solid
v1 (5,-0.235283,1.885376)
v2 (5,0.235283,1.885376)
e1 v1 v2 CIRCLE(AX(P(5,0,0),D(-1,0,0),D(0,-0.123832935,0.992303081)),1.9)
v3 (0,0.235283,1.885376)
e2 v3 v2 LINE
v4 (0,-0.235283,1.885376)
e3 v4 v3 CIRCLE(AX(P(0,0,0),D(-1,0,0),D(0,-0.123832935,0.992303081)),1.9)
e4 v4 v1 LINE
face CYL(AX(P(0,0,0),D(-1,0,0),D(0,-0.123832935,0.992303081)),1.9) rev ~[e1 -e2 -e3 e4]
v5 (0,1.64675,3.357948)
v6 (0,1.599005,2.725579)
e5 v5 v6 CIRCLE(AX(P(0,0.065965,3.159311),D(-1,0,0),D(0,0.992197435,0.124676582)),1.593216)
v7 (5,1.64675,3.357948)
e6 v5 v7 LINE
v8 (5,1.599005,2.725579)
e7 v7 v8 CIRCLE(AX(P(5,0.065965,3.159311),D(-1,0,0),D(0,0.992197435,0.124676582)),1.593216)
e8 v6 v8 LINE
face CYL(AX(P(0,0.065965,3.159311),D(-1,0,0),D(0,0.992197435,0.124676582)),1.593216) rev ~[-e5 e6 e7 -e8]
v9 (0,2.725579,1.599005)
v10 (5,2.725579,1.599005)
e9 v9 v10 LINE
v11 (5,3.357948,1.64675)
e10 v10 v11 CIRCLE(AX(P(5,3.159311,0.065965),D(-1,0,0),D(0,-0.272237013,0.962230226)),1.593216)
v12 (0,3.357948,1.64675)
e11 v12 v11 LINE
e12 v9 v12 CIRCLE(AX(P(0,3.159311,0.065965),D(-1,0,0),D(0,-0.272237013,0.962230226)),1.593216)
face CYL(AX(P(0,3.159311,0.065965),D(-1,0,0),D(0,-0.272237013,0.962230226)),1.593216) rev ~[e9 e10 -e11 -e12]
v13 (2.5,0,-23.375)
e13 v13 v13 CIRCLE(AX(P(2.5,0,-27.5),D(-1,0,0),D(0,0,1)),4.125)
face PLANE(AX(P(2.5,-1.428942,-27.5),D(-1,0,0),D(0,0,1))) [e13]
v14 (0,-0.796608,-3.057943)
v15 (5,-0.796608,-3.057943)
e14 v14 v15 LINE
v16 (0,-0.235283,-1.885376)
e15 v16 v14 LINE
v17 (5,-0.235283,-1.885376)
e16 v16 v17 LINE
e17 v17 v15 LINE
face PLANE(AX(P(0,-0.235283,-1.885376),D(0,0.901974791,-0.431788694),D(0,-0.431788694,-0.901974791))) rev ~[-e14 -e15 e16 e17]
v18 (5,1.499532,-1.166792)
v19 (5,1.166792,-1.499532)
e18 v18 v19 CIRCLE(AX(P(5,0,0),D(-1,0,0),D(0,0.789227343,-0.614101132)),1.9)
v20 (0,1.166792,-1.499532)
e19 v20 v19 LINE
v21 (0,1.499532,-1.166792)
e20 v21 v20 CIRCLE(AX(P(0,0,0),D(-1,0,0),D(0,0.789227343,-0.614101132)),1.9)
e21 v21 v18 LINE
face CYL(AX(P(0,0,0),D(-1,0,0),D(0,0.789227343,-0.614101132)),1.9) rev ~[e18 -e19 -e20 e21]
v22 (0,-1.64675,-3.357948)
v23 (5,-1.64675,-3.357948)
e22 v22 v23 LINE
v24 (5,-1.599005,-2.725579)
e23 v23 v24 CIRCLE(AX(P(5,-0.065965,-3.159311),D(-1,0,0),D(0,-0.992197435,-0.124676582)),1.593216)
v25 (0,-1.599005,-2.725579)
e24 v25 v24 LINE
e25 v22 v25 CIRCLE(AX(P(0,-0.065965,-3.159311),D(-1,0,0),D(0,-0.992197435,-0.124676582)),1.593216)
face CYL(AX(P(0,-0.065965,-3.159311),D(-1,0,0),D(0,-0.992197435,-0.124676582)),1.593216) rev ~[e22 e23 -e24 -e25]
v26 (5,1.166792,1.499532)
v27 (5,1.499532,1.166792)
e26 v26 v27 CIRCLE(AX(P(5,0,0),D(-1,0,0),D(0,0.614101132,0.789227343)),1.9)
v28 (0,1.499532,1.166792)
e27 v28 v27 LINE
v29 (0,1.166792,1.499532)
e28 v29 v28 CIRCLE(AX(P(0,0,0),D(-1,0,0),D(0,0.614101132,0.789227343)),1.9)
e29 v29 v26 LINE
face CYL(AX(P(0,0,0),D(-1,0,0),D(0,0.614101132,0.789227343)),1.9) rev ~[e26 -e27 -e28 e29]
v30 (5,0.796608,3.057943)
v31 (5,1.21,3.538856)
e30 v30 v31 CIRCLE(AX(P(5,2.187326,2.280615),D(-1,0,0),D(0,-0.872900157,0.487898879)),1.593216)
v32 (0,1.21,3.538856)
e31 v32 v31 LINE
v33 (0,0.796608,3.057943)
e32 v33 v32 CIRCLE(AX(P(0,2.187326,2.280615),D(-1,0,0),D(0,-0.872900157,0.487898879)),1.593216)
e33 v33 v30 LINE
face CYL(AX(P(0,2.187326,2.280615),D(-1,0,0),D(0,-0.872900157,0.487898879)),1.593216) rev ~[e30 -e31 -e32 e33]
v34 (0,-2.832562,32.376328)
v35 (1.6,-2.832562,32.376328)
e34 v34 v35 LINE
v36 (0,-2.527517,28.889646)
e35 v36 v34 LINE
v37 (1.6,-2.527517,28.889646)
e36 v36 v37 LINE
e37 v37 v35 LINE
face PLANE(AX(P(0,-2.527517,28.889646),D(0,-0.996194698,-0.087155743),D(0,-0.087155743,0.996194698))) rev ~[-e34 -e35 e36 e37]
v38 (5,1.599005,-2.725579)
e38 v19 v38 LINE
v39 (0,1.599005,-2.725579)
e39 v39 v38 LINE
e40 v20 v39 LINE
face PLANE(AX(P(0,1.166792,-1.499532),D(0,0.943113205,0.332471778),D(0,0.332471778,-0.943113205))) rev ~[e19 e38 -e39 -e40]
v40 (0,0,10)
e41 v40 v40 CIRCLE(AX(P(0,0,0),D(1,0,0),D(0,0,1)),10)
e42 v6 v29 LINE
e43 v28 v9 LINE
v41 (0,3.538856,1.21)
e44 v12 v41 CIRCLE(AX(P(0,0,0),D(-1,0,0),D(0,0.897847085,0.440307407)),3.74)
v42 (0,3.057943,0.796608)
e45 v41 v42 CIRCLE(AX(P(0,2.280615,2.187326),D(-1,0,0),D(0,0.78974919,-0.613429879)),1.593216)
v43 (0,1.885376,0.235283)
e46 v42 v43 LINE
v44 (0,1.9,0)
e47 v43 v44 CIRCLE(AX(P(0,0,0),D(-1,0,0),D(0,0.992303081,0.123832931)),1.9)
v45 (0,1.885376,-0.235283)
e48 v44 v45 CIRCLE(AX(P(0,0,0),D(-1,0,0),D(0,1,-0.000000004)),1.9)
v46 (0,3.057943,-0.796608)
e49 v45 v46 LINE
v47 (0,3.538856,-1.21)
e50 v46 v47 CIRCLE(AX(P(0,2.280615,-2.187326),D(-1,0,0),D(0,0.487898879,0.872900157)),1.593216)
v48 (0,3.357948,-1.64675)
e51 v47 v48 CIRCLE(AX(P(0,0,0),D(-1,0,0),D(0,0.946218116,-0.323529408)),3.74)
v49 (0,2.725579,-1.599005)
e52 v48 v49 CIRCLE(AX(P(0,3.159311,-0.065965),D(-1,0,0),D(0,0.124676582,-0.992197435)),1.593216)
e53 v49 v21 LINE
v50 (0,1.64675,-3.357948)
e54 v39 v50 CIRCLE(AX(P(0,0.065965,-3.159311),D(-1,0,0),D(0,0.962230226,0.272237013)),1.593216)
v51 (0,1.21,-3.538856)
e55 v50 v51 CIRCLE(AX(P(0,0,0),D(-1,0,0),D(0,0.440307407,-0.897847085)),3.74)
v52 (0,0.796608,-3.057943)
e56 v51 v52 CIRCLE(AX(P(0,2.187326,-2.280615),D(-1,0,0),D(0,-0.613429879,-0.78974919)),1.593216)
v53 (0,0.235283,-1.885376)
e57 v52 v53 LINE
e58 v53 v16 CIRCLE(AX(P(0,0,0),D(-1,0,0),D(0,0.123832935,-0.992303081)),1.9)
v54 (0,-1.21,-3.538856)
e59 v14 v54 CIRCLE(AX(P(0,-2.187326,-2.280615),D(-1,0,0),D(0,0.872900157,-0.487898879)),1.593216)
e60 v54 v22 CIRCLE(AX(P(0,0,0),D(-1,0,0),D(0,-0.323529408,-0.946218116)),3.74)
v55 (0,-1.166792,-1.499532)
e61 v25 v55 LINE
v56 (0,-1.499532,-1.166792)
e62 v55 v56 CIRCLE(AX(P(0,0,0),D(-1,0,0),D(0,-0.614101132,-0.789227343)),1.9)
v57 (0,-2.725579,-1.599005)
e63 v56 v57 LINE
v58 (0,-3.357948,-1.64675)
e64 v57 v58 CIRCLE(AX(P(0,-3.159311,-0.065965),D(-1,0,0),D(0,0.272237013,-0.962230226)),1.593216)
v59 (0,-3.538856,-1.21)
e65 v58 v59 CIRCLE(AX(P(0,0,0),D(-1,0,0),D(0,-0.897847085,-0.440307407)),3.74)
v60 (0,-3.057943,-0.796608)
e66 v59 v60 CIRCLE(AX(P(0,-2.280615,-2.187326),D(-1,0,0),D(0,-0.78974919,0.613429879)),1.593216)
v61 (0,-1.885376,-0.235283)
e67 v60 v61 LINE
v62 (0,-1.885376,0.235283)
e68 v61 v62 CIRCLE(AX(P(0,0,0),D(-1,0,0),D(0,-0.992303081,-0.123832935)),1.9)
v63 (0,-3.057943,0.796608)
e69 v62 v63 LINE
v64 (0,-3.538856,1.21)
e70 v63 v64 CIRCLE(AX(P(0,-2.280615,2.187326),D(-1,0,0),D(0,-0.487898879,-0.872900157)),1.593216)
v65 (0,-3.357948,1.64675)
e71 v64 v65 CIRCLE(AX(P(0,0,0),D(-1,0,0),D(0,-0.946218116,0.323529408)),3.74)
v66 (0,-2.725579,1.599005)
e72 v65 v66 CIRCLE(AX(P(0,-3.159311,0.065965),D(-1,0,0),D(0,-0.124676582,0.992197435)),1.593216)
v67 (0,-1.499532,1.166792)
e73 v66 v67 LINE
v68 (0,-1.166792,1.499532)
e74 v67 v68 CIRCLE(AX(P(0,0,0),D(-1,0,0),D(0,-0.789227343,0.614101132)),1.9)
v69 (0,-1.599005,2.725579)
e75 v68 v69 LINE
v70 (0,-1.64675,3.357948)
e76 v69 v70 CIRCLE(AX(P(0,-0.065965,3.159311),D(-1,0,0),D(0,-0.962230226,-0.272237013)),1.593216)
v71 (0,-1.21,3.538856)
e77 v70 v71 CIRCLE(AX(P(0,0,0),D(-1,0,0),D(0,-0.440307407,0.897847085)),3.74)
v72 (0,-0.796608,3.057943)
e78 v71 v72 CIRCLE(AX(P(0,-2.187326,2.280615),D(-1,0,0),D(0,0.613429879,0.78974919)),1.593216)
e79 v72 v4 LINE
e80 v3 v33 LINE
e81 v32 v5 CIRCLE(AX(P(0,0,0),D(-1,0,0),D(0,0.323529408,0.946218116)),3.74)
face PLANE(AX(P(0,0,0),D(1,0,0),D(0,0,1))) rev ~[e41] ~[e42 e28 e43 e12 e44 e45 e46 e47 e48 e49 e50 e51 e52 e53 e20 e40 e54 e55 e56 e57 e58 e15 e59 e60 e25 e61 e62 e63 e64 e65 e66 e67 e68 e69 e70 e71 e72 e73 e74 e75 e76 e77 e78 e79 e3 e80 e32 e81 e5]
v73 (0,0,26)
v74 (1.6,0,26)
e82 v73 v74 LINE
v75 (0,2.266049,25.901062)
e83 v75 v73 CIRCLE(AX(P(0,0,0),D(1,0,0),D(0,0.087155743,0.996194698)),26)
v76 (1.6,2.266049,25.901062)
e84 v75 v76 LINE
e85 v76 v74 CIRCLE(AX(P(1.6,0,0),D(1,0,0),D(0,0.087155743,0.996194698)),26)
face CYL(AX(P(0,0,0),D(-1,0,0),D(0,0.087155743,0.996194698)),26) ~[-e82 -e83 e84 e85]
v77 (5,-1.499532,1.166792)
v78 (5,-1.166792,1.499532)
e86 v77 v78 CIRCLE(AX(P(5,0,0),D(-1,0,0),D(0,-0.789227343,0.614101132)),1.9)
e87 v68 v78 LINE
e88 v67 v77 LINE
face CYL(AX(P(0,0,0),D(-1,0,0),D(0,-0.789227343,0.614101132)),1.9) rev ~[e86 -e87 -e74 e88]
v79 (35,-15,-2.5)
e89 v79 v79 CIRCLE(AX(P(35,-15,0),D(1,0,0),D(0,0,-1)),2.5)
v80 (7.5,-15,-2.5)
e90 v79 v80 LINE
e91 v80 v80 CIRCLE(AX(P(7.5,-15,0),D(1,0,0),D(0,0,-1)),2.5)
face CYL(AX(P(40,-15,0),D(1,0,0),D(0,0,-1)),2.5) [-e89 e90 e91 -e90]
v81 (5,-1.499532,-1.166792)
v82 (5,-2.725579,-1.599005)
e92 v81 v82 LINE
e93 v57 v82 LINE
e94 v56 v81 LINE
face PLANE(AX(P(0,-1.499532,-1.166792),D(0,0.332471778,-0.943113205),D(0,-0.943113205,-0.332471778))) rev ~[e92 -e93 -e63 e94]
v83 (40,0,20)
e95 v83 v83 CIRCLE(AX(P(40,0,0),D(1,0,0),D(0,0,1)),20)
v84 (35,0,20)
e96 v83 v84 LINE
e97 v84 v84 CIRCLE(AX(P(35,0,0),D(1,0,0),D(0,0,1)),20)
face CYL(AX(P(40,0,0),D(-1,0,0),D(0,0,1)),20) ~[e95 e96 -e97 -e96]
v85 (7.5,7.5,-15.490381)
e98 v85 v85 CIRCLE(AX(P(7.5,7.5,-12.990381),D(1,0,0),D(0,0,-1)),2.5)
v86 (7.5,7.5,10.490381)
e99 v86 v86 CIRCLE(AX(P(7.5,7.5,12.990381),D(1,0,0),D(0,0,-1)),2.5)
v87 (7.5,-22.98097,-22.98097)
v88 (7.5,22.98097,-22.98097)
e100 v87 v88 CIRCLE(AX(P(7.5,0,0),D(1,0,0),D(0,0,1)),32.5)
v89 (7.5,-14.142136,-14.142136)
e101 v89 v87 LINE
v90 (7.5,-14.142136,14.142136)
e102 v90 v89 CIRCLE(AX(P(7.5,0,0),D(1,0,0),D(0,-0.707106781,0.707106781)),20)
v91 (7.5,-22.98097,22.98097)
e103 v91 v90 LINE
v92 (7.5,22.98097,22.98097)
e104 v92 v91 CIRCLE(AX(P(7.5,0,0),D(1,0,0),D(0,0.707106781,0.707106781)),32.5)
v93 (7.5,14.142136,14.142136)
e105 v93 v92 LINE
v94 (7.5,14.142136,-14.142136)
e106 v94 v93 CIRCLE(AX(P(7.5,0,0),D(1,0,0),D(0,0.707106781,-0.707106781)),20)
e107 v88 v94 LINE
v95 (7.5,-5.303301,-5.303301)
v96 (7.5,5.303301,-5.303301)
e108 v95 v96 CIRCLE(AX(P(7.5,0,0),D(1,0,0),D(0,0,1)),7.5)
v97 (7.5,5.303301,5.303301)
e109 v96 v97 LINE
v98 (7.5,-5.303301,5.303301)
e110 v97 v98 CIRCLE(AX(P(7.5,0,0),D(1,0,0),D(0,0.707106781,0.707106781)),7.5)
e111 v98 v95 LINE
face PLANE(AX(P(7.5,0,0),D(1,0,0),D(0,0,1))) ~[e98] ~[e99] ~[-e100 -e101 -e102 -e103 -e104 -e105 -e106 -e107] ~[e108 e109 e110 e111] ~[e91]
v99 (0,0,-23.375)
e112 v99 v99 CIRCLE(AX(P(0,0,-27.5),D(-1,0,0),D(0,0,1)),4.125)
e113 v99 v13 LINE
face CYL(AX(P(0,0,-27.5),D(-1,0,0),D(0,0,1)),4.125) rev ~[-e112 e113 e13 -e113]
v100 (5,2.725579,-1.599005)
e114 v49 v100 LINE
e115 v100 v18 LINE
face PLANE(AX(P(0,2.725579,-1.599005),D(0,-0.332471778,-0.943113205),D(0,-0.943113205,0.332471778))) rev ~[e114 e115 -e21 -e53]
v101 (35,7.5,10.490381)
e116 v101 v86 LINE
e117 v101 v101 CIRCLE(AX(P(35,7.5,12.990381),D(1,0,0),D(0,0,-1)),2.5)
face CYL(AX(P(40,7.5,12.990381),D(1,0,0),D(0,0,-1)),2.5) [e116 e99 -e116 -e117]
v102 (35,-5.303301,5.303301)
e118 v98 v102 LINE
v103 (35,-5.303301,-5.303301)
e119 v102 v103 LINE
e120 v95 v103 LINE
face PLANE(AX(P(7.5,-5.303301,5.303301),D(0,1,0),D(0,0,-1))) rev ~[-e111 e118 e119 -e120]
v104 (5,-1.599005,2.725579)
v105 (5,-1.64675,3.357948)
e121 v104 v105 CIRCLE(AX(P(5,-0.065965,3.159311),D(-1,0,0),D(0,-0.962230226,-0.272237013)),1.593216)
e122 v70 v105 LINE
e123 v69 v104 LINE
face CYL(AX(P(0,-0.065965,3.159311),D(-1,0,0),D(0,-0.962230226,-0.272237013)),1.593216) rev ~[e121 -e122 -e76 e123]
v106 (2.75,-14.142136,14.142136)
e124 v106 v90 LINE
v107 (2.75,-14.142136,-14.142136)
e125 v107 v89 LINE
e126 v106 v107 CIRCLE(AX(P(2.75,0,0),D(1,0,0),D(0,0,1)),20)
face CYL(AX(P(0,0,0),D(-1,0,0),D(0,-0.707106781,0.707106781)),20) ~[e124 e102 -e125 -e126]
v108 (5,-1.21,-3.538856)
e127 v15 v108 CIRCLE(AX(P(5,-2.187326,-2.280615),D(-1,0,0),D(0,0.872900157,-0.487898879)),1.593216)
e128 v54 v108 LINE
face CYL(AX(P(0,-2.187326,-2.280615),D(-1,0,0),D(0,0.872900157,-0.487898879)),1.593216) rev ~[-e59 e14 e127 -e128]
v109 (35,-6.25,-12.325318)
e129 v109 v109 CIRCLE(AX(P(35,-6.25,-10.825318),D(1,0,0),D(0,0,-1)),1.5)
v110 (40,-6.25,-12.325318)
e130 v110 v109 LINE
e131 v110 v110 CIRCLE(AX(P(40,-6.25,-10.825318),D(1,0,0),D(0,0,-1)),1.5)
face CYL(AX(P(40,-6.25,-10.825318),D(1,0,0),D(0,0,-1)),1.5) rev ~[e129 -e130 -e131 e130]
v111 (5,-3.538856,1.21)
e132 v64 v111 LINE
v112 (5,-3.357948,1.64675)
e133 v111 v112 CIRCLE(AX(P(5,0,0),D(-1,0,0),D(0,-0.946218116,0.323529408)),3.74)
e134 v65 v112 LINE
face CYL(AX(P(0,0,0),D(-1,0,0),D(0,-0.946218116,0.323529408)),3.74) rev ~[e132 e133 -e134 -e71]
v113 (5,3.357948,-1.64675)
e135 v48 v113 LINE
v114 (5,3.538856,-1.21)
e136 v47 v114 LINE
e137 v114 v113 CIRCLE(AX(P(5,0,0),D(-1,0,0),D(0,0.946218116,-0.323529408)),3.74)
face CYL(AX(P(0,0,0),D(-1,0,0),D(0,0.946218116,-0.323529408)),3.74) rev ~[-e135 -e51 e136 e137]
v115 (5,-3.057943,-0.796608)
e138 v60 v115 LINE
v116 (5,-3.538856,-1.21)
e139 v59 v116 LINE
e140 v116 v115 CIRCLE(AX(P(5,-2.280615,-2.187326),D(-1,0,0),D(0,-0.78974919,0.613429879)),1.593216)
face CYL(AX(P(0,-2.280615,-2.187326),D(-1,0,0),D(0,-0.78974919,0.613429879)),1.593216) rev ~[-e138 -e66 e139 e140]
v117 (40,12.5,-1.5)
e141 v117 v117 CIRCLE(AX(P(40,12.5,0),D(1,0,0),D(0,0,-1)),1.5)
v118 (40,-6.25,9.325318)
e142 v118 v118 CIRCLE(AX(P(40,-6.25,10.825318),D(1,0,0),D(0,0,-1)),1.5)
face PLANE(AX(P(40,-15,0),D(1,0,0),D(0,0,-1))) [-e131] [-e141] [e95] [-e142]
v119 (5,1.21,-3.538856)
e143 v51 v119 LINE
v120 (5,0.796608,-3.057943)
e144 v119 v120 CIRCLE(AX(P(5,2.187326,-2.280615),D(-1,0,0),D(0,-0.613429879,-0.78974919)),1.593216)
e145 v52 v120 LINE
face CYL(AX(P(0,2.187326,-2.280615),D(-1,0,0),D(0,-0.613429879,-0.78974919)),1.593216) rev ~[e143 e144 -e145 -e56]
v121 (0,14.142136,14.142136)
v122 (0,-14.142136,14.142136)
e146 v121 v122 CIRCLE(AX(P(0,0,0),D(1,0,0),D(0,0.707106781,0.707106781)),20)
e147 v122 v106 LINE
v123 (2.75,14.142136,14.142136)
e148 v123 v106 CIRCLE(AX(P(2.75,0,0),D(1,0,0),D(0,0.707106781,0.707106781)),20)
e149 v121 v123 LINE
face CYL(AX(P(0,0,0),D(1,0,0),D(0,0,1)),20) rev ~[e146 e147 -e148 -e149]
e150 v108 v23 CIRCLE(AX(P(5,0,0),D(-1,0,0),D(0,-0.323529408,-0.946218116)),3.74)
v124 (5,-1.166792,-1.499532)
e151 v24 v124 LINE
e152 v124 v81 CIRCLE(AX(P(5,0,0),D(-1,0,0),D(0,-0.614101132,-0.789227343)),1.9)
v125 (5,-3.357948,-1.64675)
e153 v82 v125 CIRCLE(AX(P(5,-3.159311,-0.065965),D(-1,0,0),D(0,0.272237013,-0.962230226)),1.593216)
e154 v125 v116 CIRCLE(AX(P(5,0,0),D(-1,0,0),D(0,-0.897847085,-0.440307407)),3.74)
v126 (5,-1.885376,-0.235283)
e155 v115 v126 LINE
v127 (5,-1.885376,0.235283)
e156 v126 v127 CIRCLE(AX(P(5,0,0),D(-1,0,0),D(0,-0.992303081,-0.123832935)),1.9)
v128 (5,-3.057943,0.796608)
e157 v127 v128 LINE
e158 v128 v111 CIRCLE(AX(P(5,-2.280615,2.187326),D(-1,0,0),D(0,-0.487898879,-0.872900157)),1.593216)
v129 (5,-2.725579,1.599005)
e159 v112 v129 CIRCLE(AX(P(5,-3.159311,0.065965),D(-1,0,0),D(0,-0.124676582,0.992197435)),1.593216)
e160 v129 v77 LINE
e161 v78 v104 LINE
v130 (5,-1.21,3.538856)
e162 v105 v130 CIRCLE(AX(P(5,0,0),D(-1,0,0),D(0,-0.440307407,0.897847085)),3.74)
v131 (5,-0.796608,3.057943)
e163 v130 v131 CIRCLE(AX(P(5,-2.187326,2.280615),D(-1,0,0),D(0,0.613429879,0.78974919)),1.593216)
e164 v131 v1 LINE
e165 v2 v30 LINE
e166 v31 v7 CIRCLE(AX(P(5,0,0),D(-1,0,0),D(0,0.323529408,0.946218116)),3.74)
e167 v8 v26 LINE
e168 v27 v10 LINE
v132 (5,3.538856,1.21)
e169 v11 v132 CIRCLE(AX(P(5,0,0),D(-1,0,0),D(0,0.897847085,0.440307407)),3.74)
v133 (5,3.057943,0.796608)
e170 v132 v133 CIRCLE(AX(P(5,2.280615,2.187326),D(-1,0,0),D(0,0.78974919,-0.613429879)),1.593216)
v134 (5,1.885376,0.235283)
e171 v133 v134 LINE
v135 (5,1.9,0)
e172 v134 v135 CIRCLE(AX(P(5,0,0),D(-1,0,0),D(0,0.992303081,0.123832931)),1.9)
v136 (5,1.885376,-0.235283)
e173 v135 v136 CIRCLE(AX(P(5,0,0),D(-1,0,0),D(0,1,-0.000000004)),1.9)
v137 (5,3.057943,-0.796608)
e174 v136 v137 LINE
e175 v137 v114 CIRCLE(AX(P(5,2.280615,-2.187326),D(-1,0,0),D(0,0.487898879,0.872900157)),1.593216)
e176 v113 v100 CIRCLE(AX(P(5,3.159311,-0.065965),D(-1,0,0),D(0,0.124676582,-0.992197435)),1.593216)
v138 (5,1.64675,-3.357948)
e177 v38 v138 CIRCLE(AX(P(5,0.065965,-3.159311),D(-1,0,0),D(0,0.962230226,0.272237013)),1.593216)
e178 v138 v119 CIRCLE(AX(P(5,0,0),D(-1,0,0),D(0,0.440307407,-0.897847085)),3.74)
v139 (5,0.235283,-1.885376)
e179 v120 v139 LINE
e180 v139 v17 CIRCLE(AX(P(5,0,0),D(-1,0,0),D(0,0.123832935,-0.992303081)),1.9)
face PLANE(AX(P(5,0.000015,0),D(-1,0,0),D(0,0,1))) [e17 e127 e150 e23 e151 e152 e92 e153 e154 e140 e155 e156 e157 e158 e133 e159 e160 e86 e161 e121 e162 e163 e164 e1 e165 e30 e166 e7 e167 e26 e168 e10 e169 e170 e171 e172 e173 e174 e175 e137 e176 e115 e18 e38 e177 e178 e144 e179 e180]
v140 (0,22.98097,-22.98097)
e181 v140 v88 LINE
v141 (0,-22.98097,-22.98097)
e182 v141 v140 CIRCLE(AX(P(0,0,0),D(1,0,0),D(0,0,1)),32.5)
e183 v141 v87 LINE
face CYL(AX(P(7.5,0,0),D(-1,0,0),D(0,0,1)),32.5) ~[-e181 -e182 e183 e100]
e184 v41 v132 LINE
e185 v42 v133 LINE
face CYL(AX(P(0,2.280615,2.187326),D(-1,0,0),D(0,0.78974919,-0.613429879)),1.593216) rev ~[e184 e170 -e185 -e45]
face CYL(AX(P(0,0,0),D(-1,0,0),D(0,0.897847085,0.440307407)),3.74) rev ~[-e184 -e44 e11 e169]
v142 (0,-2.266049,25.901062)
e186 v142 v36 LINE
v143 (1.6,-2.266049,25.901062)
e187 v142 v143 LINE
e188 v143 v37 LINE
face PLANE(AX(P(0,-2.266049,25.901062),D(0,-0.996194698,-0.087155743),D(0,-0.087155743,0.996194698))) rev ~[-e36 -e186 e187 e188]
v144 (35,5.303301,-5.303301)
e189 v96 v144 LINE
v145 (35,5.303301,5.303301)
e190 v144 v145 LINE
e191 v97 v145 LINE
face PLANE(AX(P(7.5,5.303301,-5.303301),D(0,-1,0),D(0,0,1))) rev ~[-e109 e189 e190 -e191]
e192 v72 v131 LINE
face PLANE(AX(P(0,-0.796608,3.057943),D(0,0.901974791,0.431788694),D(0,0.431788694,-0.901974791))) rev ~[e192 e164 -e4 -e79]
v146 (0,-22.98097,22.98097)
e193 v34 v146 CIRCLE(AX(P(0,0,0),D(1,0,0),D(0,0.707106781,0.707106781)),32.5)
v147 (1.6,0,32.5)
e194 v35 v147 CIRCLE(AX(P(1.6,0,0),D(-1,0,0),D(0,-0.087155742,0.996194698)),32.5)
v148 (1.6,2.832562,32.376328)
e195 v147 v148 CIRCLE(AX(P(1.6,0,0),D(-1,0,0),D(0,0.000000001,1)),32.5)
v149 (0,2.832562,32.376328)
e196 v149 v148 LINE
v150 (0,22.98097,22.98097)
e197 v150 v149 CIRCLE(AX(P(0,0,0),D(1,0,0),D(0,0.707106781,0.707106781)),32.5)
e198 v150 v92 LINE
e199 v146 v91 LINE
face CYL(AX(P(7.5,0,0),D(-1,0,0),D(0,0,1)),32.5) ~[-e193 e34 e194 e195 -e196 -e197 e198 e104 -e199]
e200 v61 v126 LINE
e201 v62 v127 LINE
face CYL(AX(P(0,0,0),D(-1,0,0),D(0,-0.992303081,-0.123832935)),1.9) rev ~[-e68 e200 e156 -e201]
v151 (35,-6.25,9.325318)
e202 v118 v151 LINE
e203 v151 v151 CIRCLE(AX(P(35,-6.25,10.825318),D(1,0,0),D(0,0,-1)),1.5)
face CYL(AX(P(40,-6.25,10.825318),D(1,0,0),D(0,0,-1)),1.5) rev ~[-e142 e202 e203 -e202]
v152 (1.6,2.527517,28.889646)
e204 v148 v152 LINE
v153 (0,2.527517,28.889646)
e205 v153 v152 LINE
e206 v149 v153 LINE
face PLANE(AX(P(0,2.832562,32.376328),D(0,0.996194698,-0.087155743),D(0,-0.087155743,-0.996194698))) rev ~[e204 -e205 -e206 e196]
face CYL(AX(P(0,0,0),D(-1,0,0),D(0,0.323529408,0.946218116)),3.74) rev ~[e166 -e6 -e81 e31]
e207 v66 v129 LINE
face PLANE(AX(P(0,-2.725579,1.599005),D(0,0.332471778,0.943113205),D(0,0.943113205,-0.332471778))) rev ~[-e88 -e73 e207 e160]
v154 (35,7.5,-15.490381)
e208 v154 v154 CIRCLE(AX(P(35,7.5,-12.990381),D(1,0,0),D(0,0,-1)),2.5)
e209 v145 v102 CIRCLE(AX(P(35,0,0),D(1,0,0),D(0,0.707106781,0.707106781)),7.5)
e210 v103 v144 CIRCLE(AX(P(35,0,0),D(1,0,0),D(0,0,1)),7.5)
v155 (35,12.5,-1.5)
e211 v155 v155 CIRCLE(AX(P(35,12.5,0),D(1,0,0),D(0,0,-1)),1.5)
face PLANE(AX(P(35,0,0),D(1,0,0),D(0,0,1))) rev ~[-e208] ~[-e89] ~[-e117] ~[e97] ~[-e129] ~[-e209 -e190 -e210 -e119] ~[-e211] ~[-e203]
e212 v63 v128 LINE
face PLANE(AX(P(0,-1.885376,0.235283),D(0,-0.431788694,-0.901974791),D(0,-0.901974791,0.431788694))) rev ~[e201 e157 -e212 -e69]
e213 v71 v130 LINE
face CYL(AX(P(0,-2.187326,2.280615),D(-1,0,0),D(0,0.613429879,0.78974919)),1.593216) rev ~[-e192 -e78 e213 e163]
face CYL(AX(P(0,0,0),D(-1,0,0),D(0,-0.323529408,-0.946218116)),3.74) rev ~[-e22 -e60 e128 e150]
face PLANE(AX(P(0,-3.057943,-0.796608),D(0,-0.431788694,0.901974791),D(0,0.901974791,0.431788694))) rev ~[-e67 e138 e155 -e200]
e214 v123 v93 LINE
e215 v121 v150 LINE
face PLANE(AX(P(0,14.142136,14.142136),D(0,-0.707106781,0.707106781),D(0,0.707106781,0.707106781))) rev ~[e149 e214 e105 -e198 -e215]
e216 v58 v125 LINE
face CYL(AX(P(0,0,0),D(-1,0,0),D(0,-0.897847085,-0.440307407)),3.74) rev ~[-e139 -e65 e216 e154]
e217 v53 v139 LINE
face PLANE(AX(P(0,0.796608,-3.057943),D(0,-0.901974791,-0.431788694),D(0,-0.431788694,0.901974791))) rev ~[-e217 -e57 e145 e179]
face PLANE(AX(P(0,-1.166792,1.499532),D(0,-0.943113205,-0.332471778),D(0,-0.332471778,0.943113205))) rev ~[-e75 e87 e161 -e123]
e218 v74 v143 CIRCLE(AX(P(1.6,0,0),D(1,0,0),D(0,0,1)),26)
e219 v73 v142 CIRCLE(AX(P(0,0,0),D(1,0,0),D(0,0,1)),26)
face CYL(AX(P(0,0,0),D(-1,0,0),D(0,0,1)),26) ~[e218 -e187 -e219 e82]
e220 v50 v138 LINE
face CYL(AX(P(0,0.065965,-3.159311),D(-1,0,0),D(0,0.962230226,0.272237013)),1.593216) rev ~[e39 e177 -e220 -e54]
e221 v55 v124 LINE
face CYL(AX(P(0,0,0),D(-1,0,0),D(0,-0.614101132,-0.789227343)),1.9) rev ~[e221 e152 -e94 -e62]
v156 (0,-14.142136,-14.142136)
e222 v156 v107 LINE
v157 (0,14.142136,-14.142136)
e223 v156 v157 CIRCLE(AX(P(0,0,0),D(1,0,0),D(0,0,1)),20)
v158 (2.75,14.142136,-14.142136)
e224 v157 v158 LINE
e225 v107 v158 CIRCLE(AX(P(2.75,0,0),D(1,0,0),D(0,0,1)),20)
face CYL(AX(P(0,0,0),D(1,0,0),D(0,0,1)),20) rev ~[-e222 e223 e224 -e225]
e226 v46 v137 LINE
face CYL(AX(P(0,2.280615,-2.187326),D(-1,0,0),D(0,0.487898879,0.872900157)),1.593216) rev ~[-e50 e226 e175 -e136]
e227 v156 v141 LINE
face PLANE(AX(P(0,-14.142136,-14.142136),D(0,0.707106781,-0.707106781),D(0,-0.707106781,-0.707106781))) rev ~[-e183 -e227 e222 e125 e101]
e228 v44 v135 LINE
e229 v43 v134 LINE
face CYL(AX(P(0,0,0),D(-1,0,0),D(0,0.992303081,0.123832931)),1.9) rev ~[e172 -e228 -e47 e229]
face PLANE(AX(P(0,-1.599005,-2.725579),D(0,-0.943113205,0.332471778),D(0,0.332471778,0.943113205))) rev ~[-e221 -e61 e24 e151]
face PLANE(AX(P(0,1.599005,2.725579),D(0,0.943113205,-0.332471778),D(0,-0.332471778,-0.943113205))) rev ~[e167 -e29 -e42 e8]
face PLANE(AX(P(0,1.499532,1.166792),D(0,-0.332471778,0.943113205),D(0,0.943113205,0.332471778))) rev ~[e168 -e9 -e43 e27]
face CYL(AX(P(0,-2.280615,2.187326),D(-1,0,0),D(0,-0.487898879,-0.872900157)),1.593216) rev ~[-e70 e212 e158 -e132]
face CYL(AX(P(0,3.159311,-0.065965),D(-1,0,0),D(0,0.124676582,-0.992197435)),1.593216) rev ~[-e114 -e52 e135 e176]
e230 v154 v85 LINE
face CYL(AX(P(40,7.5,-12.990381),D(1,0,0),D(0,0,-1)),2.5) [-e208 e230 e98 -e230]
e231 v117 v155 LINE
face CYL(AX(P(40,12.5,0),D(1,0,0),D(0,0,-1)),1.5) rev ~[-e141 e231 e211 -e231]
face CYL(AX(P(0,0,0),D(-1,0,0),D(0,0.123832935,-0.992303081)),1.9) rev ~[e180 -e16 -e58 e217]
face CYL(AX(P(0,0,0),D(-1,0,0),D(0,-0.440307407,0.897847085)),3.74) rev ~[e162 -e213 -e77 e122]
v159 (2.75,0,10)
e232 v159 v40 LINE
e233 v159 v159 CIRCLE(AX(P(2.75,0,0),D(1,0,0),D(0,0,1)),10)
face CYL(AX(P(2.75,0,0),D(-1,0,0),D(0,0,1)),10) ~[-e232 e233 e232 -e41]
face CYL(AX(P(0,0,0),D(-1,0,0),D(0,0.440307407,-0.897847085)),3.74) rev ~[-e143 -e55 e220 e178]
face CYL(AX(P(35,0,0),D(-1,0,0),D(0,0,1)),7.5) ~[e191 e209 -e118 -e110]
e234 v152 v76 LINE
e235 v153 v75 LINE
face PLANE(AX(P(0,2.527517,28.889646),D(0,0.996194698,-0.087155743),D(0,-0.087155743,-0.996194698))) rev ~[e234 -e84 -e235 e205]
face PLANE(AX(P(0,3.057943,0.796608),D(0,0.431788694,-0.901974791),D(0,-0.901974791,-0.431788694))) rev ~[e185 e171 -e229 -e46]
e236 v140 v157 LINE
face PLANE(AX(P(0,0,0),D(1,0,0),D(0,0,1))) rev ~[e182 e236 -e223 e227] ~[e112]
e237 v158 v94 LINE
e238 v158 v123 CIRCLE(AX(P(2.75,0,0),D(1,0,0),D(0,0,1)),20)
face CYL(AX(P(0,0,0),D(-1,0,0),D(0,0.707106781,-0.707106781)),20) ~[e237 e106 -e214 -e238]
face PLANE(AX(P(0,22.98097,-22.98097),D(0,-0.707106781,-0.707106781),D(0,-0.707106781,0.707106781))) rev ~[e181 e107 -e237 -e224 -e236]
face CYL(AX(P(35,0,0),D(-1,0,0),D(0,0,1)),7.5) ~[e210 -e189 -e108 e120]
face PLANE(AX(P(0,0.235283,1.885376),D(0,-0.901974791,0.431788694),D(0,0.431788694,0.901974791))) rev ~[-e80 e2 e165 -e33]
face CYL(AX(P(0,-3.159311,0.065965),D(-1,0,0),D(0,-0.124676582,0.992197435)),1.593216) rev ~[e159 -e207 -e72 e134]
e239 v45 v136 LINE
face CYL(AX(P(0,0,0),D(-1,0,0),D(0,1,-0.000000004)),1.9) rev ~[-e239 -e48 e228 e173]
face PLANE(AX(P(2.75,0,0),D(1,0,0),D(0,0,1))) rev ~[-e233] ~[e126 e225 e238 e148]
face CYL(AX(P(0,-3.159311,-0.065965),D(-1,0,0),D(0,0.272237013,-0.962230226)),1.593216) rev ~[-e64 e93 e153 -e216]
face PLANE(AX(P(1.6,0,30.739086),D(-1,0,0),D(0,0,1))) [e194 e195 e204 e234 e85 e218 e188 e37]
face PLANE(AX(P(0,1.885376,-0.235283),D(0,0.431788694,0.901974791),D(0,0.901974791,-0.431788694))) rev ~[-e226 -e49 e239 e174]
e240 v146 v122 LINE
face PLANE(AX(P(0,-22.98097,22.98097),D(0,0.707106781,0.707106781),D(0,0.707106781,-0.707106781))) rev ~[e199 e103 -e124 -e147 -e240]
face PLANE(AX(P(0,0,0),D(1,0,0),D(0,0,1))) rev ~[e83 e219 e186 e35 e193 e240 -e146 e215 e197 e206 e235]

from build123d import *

# Parameters (mm, degrees)
CORTAR_EXTRUIR2_DEPTH   = 7.5
CROQUIS5_R              = 1.5
CORTAR_EXTRUIR4_DEPTH   = 5
CROQUIS6_R              = 2.5
SALIENTE_EXTRUIR1_DEPTH = 32.5
CORTAR_EXTRUIR5_DEPTH   = 5
CORTAR_EXTRUIR12_DEPTH  = 2.5
CORTAR_EXTRUIR13_START  = 27.5
CORTAR_EXTRUIR13_DEPTH  = 27.5
CORTAR_EXTRUIR14_DEPTH  = 1.6


with BuildPart() as part:
    # Croquis1 → Revolución1 (revolve)
    with BuildSketch(Plane(origin=(0, 0, 0), x_dir=(1, 0, 0), z_dir=(0, 1, 0)), mode=Mode.PRIVATE) as revoluci_n1_sk:
        Polygon((0, 0), (40, 0), (40, 20), (35, 20), (35, 7.5), (7.5, 7.5), (7.5, 32.5), (0, 32.5), (0, 20), (2.75, 20), (2.75, 10), (0, 10), align=None)
    revolve(revoluci_n1_sk.sketch.rotate(Axis((0, 0, 0), (1, 0, 0)), 180), axis=Axis((0, 0, 0), (1, 0, 0)))

    # Croquis2 → Cortar-Extruir2 (cut)
    with BuildSketch(Plane.ZY):
        with BuildLine():
            ThreePointArc((-14.142135624, 14.142135624), (0, 20), (14.142135624, 14.142135624))
            Line((14.142135624, 14.142135624), (22.980970389, 22.980970389))
            ThreePointArc((22.980970389, 22.980970389), (0, 32.5), (-22.980970389, 22.980970389))
            Line((-22.980970389, 22.980970389), (-14.142135624, 14.142135624))
        make_face()
        with BuildLine():
            Line((22.980970389, -22.980970389), (14.142135624, -14.142135624))
            ThreePointArc((14.142135624, -14.142135624), (0, -20), (-14.142135624, -14.142135624))
            Line((-14.142135624, -14.142135624), (-22.980970389, -22.980970389))
            ThreePointArc((-22.980970389, -22.980970389), (0, -32.5), (22.980970389, -22.980970389))
        make_face()
    extrude(amount=-CORTAR_EXTRUIR2_DEPTH, mode=Mode.SUBTRACT)

    # Croquis5 → Cortar-Extruir4 (cut)
    with BuildSketch(Plane(origin=(40, 0, 0), x_dir=(0, 0, -1), z_dir=(1, 0, 0))):
        with Locations((0, 12.5)):
            Circle(CROQUIS5_R)
        with Locations((10.825317547, -6.25)):
            Circle(CROQUIS5_R)
        with Locations((-10.825317547, -6.25)):
            Circle(CROQUIS5_R)
    extrude(amount=-CORTAR_EXTRUIR4_DEPTH, mode=Mode.SUBTRACT)

    # Croquis6 → Saliente-Extruir1 (add)
    with BuildSketch(Plane(origin=(40, 0, 0), x_dir=(0, 0, -1), z_dir=(1, 0, 0))):
        with Locations((0, -15)):
            Circle(CROQUIS6_R)
        with Locations((-12.990381057, 7.5)):
            Circle(CROQUIS6_R)
        with Locations((12.990381057, 7.5)):
            Circle(CROQUIS6_R)
    extrude(amount=-SALIENTE_EXTRUIR1_DEPTH)

    # Croquis7 → Cortar-Extruir5 (cut)
    with BuildSketch(Plane.ZY):
        with BuildLine():
            Line((-0.23528257, 1.885375854), (-0.796607872, 3.057943083))
            ThreePointArc((-0.796607872, 3.057943083), (-0.979134174, 3.319175723), (-1.21, 3.538855747))
            ThreePointArc((-1.21, 3.538855747), (-1.431236037, 3.455309452), (-1.646749691, 3.357948102))
            ThreePointArc((-1.646749691, 3.357948102), (-1.654659248, 3.039364075), (-1.599005463, 2.725579118))
            Line((-1.599005463, 2.725579118), (-1.166792151, 1.499531952))
            ThreePointArc((-1.166792151, 1.499531952), (-1.343502884, 1.343502884), (-1.499531952, 1.166792151))
            Line((-1.499531952, 1.166792151), (-2.725579118, 1.599005463))
            ThreePointArc((-2.725579118, 1.599005463), (-3.039364075, 1.654659248), (-3.357948102, 1.646749691))
            ThreePointArc((-3.357948102, 1.646749691), (-3.455309452, 1.431236037), (-3.538855747, 1.21))
            ThreePointArc((-3.538855747, 1.21), (-3.319175723, 0.979134174), (-3.057943083, 0.796607872))
            Line((-3.057943083, 0.796607872), (-1.885375854, 0.23528257))
            ThreePointArc((-1.885375854, 0.23528257), (-1.9, 0), (-1.885375854, -0.23528257))
            Line((-1.885375854, -0.23528257), (-3.057943083, -0.796607872))
            ThreePointArc((-3.057943083, -0.796607872), (-3.319175723, -0.979134174), (-3.538855747, -1.21))
            ThreePointArc((-3.538855747, -1.21), (-3.455309452, -1.431236037), (-3.357948102, -1.646749691))
            ThreePointArc((-3.357948102, -1.646749691), (-3.039364075, -1.654659248), (-2.725579118, -1.599005463))
            Line((-2.725579118, -1.599005463), (-1.499531952, -1.166792151))
            ThreePointArc((-1.499531952, -1.166792151), (-1.343502884, -1.343502884), (-1.166792151, -1.499531952))
            Line((-1.166792151, -1.499531952), (-1.599005463, -2.725579118))
            ThreePointArc((-1.599005463, -2.725579118), (-1.654659248, -3.039364075), (-1.646749691, -3.357948102))
            ThreePointArc((-1.646749691, -3.357948102), (-1.431236037, -3.455309452), (-1.21, -3.538855747))
            ThreePointArc((-1.21, -3.538855747), (-0.979134174, -3.319175723), (-0.796607872, -3.057943083))
            Line((-0.796607872, -3.057943083), (-0.23528257, -1.885375854))
            ThreePointArc((-0.23528257, -1.885375854), (0, -1.9), (0.23528257, -1.885375854))
            Line((0.23528257, -1.885375854), (0.796607872, -3.057943083))
            ThreePointArc((0.796607872, -3.057943083), (0.979134174, -3.319175723), (1.21, -3.538855747))
            ThreePointArc((1.21, -3.538855747), (1.431236037, -3.455309452), (1.646749691, -3.357948102))
            ThreePointArc((1.646749691, -3.357948102), (1.654659248, -3.039364075), (1.599005463, -2.725579118))
            Line((1.599005463, -2.725579118), (1.166792151, -1.499531952))
            ThreePointArc((1.166792151, -1.499531952), (1.343502884, -1.343502884), (1.499531952, -1.166792151))
            Line((1.499531952, -1.166792151), (2.725579118, -1.599005463))
            ThreePointArc((2.725579118, -1.599005463), (3.039364075, -1.654659248), (3.357948102, -1.646749691))
            ThreePointArc((3.357948102, -1.646749691), (3.455309452, -1.431236037), (3.538855747, -1.21))
            ThreePointArc((3.538855747, -1.21), (3.319175723, -0.979134174), (3.057943083, -0.796607872))
            Line((3.057943083, -0.796607872), (1.885375854, -0.23528257))
            ThreePointArc((1.885375854, -0.23528257), (1.9, 0), (1.885375854, 0.23528257))
            Line((1.885375854, 0.23528257), (3.057943083, 0.796607872))
            ThreePointArc((3.057943083, 0.796607872), (3.319175723, 0.979134174), (3.538855747, 1.21))
            ThreePointArc((3.538855747, 1.21), (3.455309452, 1.431236037), (3.357948102, 1.646749691))
            ThreePointArc((3.357948102, 1.646749691), (3.039364075, 1.654659248), (2.725579118, 1.599005463))
            Line((2.725579118, 1.599005463), (1.499531952, 1.166792151))
            ThreePointArc((1.499531952, 1.166792151), (1.343502884, 1.343502884), (1.166792151, 1.499531952))
            Line((1.166792151, 1.499531952), (1.599005463, 2.725579118))
            ThreePointArc((1.599005463, 2.725579118), (1.654659248, 3.039364075), (1.646749691, 3.357948102))
            ThreePointArc((1.646749691, 3.357948102), (1.431236037, 3.455309452), (1.21, 3.538855747))
            ThreePointArc((1.21, 3.538855747), (0.979134174, 3.319175723), (0.796607872, 3.057943083))
            Line((0.796607872, 3.057943083), (0.23528257, 1.885375854))
            ThreePointArc((0.23528257, 1.885375854), (0.117868309, 1.896340439), (0, 1.9))
            ThreePointArc((0, 1.9), (-0.117868309, 1.896340439), (-0.23528257, 1.885375854))
        make_face()
    extrude(amount=-CORTAR_EXTRUIR5_DEPTH, mode=Mode.SUBTRACT)

    # Croquis13 → Cortar-Extruir12 (cut)
    with BuildSketch(Plane.ZY):
        with BuildLine():
            ThreePointArc((-31.625, 0), (-27.5, -4.125), (-23.375, 0))
            Line((-23.375, 0), (-31.625, 0))
        make_face()
        with BuildLine():
            Line((-31.625, 0), (-23.375, 0))
            ThreePointArc((-23.375, 0), (-27.5, 4.125), (-31.625, 0))
        make_face()
    extrude(amount=-CORTAR_EXTRUIR12_DEPTH, mode=Mode.SUBTRACT)

    # Croquis14 → Cortar-Extruir13 (cut)
    with BuildSketch(Plane.ZY.offset(-35).offset(CORTAR_EXTRUIR13_START)):
        with BuildLine():
            Line((-5.303300859, 5.303300859), (0, 5.303300859))
            Line((0, 5.303300859), (0, 7.5))
            ThreePointArc((0, 7.5), (-2.870125743, 6.929096494), (-5.303300859, 5.303300859))
        make_face()
        with BuildLine():
            Line((0, 7.5), (0, 5.303300859))
            Line((0, 5.303300859), (5.303300859, 5.303300859))
            ThreePointArc((5.303300859, 5.303300859), (2.870125743, 6.929096494), (0, 7.5))
        make_face()
        with BuildLine():
            Line((5.303300859, -5.303300859), (-5.303300859, -5.303300859))
            ThreePointArc((-5.303300859, -5.303300859), (0, -7.5), (5.303300859, -5.303300859))
        make_face()
    extrude(amount=-CORTAR_EXTRUIR13_DEPTH, mode=Mode.SUBTRACT)

    # Croquis15 → Cortar-Extruir14 (cut)
    with BuildSketch(Plane.ZY):
        with BuildLine():
            ThreePointArc((29, 0), (28.972398426, -1.264962234), (28.889646245, -2.52751654))
            Line((28.889646245, -2.52751654), (32.376327688, -2.832561639))
            ThreePointArc((32.376327688, -2.832561639), (32.469067201, -1.417630089), (32.5, 0))
            ThreePointArc((32.5, 0), (32.469067201, 1.417630089), (32.376327688, 2.832561639))
            Line((32.376327688, 2.832561639), (28.889646245, 2.52751654))
            ThreePointArc((28.889646245, 2.52751654), (28.972398426, 1.264962234), (29, 0))
        make_face()
        with BuildLine():
            ThreePointArc((26, 0), (25.975253761, -1.134104071), (25.90106215, -2.266049311))
            Line((25.90106215, -2.266049311), (28.889646245, -2.52751654))
            ThreePointArc((28.889646245, -2.52751654), (28.972398426, -1.264962234), (29, 0))
            ThreePointArc((29, 0), (28.972398426, 1.264962234), (28.889646245, 2.52751654))
            Line((28.889646245, 2.52751654), (25.90106215, 2.266049311))
            ThreePointArc((25.90106215, 2.266049311), (25.975253761, 1.134104071), (26, 0))
        make_face()
    extrude(amount=-CORTAR_EXTRUIR14_DEPTH, mode=Mode.SUBTRACT)


solid = part.part
